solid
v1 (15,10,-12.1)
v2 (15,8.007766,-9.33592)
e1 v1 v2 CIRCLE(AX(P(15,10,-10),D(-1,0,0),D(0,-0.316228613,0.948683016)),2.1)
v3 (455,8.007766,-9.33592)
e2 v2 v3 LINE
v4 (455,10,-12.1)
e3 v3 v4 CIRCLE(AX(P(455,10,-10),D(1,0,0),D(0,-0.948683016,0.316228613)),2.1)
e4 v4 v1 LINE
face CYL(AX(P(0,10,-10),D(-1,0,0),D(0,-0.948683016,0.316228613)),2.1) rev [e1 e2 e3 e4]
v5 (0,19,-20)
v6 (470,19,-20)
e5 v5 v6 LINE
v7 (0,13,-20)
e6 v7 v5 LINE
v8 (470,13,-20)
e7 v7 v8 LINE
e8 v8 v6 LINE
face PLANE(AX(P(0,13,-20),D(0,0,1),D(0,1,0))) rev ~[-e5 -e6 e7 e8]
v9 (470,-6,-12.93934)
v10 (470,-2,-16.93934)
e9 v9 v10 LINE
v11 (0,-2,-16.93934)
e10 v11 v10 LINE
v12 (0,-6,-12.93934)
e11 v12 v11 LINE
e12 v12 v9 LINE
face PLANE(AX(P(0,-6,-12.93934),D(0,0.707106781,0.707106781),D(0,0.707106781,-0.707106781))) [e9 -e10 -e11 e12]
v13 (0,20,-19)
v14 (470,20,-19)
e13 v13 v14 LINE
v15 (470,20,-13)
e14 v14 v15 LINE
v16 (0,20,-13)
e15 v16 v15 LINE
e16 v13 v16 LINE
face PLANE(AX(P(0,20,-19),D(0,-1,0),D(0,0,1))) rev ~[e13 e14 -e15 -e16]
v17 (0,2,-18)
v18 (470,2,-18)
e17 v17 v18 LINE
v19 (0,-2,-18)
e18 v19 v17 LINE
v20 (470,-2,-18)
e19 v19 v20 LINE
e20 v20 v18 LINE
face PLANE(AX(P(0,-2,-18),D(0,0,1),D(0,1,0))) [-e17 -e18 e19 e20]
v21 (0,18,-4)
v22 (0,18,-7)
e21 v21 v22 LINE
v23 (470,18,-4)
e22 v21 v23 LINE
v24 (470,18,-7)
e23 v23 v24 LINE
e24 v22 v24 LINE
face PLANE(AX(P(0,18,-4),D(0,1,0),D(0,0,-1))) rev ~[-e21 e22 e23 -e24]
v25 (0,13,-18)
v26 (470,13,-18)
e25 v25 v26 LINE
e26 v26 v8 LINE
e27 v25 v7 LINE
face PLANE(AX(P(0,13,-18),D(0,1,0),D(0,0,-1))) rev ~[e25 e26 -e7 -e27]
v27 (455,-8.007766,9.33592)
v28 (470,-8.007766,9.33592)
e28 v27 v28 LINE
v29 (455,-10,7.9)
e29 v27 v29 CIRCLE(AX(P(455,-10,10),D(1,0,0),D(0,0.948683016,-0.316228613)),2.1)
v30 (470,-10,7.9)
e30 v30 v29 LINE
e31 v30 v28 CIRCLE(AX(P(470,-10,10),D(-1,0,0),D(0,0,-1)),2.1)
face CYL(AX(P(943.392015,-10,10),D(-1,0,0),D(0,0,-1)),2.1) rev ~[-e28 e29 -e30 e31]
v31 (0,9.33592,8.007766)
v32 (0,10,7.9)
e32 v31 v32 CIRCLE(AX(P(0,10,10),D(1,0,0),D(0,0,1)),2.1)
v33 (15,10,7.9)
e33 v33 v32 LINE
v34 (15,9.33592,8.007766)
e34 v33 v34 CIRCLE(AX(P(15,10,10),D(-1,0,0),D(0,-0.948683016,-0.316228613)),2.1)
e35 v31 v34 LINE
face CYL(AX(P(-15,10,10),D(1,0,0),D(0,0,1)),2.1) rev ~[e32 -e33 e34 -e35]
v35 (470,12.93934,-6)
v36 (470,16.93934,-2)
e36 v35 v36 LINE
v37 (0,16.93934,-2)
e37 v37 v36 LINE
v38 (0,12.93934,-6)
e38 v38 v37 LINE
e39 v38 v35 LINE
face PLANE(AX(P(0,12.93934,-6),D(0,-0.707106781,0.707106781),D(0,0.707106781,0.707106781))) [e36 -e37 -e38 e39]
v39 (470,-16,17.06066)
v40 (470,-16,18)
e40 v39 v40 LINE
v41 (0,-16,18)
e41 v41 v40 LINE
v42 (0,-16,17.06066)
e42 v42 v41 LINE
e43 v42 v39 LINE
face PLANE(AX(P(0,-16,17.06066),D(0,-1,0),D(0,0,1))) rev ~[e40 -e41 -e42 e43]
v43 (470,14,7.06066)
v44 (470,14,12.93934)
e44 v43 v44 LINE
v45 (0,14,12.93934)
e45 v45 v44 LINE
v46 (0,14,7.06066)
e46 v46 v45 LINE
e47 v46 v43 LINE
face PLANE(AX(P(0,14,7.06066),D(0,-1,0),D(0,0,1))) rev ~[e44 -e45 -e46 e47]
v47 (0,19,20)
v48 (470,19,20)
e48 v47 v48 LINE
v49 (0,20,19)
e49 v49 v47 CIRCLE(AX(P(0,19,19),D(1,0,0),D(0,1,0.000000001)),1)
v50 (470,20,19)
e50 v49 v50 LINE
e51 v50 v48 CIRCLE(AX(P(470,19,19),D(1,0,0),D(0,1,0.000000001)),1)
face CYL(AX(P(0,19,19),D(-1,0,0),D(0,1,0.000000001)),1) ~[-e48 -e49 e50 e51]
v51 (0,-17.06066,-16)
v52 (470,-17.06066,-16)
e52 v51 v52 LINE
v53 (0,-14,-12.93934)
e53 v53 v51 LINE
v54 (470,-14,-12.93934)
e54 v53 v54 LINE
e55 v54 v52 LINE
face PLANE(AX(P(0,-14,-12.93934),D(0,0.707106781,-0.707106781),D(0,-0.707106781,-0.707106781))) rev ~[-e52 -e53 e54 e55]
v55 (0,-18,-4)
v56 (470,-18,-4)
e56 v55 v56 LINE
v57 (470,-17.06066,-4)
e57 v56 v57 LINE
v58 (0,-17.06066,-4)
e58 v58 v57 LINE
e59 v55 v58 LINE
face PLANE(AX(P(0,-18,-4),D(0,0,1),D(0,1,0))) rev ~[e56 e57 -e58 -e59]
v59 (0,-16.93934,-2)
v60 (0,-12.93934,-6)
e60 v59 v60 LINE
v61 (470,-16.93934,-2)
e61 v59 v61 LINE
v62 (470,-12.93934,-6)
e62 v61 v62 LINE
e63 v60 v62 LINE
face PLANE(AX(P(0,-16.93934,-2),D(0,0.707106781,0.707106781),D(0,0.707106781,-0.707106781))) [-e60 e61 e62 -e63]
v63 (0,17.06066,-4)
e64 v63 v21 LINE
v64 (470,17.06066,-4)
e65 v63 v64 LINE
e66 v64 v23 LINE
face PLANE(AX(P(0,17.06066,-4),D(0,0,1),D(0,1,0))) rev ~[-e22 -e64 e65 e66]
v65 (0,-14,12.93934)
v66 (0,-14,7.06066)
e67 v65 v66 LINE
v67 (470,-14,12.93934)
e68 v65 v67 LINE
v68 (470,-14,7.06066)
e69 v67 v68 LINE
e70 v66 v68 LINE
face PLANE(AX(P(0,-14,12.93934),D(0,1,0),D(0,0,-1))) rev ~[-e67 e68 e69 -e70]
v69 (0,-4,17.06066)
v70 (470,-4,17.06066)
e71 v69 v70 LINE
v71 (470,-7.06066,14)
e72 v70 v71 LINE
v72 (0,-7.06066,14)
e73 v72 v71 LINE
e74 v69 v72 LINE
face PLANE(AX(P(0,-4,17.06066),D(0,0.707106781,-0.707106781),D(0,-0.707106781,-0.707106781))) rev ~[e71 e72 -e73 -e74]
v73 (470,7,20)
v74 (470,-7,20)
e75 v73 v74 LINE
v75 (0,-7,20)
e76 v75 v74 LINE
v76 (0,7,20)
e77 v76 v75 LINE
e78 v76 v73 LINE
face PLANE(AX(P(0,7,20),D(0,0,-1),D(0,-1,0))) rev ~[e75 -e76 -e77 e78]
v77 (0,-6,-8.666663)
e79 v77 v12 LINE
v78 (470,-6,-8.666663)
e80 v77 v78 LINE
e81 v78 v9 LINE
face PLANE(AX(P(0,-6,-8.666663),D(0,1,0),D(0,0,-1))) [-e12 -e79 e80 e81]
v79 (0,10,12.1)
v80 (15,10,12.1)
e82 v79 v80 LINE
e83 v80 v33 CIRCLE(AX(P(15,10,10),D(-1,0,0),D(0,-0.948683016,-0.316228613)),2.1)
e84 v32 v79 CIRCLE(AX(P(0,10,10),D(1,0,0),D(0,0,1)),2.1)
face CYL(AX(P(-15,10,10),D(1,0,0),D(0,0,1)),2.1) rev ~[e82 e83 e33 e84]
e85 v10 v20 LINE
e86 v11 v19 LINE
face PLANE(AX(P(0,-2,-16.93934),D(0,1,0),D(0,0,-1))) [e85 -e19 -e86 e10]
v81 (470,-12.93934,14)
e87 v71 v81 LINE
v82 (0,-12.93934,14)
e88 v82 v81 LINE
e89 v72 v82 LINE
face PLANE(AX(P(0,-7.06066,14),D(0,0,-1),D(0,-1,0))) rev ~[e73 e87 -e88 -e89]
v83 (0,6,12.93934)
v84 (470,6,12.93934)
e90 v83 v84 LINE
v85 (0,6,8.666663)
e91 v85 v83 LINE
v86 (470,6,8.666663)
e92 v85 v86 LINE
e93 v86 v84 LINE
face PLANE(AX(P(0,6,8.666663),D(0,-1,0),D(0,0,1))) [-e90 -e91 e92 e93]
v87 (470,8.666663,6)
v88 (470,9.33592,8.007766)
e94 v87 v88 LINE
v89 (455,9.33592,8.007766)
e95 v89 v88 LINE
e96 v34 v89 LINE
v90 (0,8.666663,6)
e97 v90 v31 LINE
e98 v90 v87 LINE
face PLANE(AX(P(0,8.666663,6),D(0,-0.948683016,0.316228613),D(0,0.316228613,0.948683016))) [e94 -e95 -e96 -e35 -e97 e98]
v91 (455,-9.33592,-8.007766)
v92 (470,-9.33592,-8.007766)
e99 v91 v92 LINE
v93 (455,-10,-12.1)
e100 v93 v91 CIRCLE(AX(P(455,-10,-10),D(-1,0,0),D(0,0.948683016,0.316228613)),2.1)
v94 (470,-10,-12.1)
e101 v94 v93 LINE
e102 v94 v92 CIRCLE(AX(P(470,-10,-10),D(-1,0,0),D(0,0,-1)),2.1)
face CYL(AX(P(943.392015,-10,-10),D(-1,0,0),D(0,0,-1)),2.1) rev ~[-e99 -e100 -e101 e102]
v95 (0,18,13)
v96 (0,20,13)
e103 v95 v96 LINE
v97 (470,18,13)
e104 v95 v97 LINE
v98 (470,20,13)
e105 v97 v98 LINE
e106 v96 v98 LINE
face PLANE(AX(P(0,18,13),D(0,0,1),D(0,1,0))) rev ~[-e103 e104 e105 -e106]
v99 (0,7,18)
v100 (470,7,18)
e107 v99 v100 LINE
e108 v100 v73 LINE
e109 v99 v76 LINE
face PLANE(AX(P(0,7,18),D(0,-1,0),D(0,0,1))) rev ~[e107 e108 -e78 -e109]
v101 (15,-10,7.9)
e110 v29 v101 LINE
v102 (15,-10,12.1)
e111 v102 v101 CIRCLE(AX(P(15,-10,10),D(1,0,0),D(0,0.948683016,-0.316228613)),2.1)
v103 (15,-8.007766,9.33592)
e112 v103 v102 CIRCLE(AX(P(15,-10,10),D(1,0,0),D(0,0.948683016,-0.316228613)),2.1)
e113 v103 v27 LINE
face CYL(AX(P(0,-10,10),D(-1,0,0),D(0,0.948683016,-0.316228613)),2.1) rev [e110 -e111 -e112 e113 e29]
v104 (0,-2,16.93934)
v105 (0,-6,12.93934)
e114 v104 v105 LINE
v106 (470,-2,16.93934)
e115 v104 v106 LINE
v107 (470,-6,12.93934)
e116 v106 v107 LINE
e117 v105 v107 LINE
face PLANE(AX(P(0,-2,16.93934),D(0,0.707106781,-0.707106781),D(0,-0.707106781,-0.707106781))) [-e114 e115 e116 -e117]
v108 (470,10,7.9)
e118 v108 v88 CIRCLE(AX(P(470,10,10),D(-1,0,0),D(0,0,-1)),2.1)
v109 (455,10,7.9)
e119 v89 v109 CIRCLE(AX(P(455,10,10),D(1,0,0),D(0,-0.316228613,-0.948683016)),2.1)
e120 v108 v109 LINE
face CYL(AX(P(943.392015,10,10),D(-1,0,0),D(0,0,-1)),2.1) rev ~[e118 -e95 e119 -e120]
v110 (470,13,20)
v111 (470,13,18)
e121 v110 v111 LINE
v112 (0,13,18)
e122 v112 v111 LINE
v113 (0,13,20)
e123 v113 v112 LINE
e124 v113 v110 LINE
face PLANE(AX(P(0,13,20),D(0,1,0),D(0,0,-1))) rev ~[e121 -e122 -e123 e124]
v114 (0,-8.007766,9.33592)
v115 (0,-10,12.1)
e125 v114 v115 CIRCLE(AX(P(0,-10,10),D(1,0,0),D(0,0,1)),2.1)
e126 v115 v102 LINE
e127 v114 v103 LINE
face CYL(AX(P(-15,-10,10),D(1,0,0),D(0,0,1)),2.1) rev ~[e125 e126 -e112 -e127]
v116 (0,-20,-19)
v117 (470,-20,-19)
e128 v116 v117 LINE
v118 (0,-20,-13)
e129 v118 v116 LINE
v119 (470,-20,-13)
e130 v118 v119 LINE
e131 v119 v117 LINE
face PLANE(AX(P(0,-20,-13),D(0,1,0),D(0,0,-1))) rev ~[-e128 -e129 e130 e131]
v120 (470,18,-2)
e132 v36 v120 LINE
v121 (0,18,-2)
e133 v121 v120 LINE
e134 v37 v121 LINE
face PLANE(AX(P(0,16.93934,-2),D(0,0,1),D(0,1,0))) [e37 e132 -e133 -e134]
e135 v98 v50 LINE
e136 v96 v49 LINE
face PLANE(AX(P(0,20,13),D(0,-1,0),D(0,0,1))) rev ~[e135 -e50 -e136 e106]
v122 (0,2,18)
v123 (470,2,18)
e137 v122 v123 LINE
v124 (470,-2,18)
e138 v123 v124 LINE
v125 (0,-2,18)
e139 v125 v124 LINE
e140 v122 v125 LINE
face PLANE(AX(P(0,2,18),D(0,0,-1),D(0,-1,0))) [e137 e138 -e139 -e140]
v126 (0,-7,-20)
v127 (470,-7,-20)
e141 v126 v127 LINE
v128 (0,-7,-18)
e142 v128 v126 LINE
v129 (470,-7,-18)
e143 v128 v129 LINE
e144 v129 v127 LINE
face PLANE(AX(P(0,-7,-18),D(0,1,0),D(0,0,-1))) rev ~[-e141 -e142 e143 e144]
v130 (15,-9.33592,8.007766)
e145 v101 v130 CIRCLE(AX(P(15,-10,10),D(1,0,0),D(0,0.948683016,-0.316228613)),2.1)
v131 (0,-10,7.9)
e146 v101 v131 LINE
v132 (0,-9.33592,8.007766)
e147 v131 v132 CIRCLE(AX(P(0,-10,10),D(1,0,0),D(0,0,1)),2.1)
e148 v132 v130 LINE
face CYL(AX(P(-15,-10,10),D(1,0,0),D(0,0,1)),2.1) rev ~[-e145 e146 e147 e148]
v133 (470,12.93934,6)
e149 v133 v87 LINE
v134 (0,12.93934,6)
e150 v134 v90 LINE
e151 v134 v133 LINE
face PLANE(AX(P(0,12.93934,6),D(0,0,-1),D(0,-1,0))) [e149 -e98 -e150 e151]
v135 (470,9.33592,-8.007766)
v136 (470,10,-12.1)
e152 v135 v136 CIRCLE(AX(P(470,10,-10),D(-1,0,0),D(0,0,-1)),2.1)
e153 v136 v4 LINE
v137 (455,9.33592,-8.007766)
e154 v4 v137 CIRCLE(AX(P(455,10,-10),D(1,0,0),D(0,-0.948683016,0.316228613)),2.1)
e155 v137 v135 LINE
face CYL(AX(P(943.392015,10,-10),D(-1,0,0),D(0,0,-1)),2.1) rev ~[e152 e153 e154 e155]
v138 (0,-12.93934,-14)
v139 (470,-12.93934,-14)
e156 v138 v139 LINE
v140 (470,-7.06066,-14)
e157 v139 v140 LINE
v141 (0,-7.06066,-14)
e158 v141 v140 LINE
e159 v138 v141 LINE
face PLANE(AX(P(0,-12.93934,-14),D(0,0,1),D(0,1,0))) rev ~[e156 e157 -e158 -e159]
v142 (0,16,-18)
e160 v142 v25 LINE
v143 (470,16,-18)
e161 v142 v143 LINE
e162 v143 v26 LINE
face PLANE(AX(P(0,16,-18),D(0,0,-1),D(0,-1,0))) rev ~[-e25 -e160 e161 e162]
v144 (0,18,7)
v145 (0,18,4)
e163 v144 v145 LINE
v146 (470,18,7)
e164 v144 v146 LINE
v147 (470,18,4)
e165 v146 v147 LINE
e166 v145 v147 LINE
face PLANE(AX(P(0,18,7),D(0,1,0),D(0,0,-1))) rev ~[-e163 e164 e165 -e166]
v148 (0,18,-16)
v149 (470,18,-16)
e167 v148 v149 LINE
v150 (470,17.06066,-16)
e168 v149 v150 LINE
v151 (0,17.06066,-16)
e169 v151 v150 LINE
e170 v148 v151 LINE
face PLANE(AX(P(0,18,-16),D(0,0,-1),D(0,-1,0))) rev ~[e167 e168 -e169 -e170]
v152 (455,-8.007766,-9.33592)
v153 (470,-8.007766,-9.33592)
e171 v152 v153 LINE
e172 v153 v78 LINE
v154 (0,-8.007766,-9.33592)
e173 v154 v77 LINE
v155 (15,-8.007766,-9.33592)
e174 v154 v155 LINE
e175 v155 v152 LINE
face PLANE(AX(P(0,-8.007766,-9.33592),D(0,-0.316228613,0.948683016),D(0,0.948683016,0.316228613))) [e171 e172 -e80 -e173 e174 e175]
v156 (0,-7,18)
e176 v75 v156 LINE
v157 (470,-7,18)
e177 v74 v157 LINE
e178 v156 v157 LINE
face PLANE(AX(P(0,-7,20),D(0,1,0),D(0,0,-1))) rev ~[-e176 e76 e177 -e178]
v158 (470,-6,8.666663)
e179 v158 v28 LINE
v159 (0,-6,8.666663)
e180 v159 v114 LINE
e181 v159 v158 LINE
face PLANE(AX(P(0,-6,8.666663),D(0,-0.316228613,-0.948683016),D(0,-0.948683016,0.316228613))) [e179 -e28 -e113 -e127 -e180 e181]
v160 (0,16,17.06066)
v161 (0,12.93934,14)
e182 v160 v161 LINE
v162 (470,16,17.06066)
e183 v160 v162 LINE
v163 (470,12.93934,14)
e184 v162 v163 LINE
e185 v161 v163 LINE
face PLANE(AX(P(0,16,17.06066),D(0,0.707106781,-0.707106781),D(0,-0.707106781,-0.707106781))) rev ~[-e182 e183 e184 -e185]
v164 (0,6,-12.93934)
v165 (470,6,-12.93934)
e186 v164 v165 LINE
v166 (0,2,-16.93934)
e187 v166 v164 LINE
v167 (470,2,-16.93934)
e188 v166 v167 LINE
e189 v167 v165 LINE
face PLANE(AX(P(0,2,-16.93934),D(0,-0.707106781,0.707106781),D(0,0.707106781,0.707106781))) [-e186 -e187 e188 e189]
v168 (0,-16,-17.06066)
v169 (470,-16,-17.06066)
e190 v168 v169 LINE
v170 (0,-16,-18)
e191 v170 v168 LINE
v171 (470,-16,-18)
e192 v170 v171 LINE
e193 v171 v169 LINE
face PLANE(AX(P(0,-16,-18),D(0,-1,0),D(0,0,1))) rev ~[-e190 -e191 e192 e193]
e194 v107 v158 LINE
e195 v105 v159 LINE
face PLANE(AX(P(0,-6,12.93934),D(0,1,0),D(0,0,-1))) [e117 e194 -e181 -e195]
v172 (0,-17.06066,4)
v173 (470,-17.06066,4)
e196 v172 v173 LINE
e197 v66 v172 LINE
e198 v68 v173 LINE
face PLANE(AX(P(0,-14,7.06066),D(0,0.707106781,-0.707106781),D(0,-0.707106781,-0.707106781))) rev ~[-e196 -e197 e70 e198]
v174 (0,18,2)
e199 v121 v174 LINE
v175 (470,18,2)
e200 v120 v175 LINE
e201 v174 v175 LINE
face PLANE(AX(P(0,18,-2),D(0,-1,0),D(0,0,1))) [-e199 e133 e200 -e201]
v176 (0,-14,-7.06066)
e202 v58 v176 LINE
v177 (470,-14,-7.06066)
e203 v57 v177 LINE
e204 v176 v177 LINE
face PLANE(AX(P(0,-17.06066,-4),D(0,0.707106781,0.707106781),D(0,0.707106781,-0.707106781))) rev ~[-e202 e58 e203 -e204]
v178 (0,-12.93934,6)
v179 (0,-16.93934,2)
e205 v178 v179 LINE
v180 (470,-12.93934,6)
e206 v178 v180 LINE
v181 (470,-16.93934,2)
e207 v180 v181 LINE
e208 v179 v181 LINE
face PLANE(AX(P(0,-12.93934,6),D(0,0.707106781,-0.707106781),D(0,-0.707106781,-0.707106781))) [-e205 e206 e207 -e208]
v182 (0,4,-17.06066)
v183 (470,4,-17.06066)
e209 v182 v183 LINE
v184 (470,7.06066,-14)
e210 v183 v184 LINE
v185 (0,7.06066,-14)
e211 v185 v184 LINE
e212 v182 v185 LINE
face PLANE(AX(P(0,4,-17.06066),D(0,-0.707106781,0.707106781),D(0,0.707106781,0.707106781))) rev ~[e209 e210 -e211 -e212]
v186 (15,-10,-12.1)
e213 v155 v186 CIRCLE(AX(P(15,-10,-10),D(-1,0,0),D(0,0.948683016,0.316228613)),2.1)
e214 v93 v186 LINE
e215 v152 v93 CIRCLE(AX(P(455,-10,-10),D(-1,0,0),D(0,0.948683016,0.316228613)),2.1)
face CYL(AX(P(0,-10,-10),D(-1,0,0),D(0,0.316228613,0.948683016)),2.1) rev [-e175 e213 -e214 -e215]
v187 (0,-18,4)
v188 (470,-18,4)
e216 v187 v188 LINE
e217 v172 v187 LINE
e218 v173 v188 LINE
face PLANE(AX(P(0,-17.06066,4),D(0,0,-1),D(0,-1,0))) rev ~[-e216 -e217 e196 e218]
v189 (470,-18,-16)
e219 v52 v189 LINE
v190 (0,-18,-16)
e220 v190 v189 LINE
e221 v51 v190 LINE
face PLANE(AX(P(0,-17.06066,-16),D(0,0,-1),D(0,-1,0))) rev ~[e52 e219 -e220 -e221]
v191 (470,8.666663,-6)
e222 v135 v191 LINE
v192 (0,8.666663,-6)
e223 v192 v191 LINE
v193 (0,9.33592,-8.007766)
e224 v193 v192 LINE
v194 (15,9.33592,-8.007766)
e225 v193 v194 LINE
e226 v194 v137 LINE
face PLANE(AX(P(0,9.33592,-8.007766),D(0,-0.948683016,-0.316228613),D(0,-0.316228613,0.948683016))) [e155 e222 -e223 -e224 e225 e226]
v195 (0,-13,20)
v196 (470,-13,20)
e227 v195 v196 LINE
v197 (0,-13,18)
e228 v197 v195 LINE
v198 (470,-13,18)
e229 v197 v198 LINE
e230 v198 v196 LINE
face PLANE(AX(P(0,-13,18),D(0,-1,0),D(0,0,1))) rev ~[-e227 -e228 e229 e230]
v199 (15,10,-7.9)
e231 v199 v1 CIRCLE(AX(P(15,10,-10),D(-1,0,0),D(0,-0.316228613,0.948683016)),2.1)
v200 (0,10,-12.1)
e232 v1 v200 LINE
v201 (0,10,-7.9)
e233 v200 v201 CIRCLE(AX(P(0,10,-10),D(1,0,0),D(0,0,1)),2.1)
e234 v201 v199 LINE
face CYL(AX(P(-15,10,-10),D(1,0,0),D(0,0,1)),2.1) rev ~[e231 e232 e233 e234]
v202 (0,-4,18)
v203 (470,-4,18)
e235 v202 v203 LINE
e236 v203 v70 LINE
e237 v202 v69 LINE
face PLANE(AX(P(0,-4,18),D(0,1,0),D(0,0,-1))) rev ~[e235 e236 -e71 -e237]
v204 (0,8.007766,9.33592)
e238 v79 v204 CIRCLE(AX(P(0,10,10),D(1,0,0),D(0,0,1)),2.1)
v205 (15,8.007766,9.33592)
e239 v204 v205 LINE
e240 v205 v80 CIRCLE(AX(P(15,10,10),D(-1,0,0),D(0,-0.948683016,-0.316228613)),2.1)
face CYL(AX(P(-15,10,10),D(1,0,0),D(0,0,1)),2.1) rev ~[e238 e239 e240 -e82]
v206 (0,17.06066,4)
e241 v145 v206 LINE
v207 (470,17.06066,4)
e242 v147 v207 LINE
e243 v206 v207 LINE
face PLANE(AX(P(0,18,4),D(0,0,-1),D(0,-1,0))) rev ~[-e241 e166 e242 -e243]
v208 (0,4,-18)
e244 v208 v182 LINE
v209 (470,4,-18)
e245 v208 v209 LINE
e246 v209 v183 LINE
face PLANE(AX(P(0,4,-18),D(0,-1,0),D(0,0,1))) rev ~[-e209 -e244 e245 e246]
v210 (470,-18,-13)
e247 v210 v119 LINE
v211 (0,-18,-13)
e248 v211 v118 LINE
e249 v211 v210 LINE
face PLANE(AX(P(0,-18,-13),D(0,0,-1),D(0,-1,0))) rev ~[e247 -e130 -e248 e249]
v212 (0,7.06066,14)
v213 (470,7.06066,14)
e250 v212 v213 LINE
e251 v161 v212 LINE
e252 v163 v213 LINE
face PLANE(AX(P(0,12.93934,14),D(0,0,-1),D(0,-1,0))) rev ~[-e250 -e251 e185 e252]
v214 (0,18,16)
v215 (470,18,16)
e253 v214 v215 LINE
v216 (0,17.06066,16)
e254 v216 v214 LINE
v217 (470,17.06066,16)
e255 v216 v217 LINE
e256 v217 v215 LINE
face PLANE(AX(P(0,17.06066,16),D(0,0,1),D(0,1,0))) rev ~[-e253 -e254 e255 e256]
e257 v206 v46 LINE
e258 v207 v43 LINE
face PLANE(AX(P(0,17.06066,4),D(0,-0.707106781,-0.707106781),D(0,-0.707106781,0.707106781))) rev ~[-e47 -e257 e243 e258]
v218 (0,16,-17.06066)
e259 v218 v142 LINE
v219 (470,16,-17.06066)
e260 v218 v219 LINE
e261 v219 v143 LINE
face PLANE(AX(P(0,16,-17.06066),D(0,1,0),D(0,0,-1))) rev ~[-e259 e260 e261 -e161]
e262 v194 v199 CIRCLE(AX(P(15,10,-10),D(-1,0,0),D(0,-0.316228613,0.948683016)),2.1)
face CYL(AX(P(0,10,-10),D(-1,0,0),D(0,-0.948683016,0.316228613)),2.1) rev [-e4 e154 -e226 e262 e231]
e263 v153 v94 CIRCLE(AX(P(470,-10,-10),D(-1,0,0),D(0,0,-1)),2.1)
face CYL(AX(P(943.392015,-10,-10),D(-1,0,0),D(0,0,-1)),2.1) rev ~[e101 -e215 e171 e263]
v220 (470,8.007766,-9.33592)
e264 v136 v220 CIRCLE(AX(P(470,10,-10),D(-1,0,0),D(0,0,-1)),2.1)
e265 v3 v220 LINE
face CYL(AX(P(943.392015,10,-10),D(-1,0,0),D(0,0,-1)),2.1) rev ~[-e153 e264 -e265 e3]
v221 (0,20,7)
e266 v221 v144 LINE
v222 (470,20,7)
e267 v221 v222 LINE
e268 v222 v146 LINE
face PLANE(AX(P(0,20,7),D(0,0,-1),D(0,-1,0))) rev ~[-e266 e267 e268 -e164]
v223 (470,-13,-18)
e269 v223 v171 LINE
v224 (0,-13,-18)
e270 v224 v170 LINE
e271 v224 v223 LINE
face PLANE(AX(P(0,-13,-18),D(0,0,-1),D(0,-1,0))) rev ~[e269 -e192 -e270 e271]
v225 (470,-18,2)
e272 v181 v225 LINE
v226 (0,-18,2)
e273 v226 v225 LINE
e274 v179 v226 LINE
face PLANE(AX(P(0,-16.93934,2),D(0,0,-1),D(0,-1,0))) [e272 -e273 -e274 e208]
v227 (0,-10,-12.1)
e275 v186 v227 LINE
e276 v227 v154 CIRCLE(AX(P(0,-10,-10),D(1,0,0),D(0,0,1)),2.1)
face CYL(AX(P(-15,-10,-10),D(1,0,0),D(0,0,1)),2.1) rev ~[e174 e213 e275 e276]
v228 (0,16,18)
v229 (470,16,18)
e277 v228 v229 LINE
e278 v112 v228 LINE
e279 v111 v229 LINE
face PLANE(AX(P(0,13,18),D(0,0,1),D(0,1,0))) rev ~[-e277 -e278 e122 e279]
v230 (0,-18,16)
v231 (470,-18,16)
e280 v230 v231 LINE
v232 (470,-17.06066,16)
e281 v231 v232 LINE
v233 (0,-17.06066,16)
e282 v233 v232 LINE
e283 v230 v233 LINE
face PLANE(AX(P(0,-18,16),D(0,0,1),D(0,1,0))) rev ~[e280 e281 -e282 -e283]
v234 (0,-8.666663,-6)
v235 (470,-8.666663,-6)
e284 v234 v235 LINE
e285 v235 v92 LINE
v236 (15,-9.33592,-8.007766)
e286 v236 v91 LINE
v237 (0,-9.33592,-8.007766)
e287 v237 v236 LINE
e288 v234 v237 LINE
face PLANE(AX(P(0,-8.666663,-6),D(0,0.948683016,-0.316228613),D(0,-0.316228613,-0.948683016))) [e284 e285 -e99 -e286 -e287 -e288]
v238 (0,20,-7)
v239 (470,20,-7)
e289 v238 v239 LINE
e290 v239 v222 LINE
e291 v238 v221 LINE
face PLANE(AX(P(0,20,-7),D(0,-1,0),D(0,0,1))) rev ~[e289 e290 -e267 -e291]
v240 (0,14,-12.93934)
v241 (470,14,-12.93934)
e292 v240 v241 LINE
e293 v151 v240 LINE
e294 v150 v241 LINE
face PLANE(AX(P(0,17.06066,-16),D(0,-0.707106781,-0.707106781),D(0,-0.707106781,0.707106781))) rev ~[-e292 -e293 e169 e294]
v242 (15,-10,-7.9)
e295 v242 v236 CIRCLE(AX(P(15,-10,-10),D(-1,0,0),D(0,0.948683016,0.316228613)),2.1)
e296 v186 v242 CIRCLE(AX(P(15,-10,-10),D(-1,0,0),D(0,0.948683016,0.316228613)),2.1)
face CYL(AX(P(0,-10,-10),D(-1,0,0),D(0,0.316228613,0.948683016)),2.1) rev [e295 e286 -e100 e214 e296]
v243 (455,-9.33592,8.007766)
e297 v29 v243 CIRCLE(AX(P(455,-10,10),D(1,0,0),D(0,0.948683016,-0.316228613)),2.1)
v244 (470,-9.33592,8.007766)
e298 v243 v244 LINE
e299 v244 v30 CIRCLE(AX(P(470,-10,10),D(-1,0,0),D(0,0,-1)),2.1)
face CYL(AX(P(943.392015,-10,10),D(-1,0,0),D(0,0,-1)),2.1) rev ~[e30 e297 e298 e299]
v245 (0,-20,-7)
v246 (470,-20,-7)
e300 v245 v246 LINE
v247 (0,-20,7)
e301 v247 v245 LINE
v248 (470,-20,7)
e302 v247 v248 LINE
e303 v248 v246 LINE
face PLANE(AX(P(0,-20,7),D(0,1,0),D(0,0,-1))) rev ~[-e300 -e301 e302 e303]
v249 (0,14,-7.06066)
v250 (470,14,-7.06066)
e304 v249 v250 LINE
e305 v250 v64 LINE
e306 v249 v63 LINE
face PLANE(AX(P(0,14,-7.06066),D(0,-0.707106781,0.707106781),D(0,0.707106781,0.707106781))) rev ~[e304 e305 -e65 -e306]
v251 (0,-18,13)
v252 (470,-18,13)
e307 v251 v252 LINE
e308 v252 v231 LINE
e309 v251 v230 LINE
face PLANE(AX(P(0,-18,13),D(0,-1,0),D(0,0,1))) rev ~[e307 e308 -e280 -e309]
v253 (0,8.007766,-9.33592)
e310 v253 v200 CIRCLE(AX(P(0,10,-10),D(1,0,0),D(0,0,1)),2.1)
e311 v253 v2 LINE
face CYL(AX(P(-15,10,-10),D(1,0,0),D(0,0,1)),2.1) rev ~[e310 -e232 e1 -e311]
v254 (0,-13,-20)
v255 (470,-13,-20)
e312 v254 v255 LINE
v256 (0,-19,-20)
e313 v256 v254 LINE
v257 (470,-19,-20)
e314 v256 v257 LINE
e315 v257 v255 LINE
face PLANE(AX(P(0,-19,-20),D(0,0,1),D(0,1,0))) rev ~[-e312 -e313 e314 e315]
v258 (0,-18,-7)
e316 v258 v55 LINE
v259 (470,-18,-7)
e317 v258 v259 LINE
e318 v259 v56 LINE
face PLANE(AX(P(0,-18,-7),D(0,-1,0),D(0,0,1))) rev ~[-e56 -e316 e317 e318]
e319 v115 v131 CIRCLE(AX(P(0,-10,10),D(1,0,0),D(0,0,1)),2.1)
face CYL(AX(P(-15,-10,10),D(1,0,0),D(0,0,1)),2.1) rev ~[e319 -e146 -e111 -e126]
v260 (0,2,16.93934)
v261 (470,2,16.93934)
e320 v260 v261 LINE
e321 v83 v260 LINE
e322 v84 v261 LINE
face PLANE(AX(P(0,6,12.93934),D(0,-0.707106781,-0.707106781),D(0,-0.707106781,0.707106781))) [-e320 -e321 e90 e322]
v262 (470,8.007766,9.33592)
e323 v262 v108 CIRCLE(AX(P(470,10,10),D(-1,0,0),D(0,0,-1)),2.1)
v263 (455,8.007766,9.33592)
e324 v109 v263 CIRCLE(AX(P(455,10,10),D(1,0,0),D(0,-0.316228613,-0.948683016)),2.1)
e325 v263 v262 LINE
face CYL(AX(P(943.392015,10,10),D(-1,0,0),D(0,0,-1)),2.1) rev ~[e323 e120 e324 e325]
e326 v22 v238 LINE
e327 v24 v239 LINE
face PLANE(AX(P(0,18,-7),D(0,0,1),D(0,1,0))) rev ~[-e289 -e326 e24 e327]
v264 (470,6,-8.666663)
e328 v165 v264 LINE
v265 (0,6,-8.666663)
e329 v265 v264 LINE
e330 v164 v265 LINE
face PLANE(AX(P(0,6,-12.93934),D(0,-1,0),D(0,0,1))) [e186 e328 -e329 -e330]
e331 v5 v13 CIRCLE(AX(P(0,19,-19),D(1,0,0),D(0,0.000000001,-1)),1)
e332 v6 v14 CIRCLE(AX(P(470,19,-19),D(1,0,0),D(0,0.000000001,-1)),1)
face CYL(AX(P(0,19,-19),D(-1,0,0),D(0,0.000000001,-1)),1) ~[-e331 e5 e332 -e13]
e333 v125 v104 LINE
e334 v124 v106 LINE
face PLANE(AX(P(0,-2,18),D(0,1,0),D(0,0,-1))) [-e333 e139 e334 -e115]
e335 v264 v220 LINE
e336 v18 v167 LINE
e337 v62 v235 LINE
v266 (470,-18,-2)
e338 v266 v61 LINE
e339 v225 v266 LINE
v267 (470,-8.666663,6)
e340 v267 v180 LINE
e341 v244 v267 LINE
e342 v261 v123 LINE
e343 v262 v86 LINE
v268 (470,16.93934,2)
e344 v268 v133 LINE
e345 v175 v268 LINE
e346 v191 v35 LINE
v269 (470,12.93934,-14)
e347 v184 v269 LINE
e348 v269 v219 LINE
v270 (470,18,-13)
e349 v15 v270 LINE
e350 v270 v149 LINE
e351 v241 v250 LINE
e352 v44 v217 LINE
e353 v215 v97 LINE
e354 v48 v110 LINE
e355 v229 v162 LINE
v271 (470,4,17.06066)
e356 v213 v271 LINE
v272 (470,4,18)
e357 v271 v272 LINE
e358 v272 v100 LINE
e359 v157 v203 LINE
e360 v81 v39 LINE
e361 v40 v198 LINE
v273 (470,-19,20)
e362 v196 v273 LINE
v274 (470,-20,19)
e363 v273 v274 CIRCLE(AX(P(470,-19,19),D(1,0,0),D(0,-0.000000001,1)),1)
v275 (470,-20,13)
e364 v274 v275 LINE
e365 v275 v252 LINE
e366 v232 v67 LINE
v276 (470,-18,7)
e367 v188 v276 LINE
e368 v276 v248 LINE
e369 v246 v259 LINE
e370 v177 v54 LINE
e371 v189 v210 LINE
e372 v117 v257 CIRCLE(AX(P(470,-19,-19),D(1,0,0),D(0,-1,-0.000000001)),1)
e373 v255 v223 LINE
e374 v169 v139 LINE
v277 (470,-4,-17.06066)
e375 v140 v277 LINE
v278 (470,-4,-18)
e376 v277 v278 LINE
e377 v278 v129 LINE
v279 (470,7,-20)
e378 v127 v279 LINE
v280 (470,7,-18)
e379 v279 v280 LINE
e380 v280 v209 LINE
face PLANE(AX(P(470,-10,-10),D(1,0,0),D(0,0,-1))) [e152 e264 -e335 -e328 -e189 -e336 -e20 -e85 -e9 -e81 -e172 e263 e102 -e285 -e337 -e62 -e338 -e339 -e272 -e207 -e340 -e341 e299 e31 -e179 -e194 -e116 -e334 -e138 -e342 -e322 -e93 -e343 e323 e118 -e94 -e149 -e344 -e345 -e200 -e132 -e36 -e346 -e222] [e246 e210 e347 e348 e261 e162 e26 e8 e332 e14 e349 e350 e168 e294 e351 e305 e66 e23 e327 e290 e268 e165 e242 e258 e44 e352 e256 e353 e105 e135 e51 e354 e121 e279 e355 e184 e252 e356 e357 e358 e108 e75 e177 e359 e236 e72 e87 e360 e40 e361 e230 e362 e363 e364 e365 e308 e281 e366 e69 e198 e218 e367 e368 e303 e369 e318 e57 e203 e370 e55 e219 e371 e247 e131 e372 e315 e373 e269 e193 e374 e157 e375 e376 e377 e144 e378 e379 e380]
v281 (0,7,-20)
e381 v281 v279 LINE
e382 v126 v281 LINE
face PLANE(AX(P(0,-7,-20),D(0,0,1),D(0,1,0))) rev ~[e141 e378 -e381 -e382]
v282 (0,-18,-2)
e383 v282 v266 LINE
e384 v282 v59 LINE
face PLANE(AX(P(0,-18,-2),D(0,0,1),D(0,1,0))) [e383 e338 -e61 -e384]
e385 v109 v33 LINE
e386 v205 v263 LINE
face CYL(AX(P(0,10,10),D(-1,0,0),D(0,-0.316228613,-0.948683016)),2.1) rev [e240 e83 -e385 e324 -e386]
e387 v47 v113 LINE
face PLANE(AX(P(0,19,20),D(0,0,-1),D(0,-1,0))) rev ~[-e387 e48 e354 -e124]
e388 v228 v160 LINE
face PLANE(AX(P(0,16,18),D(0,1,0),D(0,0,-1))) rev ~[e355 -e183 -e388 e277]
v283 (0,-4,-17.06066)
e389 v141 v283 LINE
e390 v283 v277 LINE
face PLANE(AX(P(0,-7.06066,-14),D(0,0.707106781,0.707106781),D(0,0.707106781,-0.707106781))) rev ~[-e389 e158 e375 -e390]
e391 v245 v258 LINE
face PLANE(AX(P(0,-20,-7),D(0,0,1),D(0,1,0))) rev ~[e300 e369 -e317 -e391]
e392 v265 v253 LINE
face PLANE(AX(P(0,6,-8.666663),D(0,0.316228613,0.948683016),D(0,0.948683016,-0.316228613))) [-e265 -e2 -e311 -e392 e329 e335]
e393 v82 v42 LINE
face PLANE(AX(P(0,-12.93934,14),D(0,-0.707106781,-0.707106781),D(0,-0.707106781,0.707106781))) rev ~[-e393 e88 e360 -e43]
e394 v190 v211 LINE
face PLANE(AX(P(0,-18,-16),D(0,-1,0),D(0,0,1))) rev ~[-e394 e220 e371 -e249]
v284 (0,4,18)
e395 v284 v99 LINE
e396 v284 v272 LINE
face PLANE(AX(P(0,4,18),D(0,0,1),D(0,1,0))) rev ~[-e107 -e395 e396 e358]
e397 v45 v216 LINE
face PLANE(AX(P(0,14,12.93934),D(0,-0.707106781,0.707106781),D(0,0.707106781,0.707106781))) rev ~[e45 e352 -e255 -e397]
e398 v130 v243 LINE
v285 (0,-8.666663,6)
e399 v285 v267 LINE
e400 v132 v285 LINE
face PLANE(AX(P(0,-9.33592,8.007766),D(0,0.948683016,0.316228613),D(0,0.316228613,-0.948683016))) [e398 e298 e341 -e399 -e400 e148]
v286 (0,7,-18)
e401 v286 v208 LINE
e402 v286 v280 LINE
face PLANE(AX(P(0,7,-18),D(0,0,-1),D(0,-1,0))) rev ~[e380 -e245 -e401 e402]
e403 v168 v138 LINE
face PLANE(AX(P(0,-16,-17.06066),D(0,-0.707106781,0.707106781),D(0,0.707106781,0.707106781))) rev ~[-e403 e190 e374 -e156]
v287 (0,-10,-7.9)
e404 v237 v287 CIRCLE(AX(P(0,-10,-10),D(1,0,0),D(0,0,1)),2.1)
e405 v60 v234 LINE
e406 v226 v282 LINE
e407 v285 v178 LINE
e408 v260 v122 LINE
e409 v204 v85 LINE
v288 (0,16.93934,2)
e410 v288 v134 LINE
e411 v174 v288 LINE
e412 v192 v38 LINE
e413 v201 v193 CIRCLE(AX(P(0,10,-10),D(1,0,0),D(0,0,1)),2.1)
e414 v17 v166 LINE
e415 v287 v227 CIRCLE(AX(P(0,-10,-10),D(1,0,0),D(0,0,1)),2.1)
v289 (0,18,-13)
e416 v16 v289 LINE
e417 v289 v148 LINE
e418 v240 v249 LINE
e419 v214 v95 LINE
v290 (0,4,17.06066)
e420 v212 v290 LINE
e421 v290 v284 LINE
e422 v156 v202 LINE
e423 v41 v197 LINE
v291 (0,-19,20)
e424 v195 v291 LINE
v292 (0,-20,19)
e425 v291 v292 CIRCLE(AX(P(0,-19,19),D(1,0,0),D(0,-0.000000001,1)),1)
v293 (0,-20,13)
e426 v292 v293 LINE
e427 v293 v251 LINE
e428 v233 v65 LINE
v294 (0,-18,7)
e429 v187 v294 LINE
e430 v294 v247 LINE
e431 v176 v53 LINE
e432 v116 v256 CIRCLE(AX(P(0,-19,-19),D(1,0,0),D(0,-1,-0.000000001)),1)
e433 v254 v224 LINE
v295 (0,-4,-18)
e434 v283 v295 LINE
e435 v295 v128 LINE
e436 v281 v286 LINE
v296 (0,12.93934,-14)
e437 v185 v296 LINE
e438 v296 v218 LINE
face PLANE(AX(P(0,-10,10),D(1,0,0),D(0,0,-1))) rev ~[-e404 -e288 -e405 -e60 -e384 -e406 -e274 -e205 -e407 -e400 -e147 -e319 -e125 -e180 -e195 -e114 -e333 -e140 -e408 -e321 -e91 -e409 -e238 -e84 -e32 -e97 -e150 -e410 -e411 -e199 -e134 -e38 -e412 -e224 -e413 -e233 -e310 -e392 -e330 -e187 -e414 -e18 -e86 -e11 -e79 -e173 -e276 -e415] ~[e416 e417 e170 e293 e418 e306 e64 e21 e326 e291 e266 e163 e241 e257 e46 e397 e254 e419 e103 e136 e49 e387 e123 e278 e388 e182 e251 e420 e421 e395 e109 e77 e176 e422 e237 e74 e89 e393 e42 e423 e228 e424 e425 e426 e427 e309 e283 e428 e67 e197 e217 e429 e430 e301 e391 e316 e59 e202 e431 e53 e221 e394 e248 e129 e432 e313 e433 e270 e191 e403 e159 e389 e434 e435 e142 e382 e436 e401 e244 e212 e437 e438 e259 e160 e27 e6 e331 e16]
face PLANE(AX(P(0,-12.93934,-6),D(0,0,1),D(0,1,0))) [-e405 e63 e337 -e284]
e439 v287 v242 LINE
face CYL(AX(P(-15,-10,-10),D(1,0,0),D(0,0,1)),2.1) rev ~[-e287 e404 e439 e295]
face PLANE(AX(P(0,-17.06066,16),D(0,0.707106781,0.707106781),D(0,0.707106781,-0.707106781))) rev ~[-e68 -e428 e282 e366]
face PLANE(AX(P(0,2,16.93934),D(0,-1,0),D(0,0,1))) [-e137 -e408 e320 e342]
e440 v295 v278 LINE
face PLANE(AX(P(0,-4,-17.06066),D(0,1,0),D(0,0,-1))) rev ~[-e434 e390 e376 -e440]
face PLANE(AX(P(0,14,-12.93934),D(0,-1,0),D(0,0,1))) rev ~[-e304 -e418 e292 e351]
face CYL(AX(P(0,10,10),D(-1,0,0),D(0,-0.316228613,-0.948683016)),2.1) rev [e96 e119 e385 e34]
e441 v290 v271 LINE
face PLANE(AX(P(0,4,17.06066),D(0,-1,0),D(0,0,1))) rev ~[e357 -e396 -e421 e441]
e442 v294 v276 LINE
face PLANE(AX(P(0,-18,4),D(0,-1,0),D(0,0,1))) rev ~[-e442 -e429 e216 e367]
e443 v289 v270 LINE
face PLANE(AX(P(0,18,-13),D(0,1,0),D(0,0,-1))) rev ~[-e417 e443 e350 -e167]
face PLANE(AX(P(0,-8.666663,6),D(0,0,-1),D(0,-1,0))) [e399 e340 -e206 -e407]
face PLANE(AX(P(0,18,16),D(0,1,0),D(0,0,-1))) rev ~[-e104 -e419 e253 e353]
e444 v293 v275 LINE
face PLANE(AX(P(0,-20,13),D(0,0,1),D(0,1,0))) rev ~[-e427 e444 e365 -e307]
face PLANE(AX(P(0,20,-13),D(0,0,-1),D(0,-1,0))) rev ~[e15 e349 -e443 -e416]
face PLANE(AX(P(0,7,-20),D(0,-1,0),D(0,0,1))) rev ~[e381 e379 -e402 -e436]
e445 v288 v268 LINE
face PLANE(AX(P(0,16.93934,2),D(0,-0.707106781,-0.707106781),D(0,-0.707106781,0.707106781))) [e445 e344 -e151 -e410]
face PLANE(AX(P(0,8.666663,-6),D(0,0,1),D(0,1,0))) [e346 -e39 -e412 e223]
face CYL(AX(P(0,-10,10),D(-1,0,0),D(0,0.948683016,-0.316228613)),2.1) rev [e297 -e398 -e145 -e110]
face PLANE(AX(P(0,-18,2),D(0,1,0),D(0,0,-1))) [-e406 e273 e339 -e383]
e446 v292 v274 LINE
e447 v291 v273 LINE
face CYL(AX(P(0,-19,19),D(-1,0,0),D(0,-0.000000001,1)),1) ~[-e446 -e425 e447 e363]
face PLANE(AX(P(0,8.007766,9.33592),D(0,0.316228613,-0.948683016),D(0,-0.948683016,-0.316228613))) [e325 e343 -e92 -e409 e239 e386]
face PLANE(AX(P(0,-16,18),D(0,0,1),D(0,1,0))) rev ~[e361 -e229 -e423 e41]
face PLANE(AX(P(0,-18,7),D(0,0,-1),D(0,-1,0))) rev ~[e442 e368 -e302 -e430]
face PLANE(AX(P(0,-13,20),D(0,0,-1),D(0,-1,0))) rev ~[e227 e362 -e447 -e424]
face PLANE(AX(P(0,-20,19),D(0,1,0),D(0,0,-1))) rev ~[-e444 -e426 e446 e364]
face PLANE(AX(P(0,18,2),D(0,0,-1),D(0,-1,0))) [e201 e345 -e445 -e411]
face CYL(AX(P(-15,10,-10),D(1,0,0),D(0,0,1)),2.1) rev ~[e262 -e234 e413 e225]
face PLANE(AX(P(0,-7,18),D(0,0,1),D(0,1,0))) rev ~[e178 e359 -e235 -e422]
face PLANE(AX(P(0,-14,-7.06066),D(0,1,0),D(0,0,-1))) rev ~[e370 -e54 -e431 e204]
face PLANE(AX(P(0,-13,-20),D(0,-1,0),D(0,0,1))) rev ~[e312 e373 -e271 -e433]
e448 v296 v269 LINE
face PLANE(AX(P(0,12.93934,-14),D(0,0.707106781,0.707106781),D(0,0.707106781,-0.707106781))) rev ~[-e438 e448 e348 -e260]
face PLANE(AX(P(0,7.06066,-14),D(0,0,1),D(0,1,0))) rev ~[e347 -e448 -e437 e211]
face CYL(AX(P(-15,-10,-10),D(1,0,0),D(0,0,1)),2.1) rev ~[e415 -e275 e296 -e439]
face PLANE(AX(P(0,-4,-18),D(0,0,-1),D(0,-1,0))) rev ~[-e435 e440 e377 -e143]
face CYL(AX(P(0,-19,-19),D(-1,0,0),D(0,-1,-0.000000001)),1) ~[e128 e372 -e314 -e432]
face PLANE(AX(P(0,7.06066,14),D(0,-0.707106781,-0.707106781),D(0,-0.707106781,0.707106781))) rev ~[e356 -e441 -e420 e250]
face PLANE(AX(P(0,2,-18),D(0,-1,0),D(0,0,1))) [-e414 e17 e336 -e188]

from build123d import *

# Parameters (mm, degrees)
BOSS_EXTRUDE1_DEPTH = 470
SKETCH10_R          = 2.1
BOSS_EXTRUDE4_DEPTH = 15
BOSS_EXTRUDE5_START = -15
SKETCH11_R          = 2.1
BOSS_EXTRUDE5_DEPTH = 15
TAPPED_HOLE3_D      = 4.2
TAPPED_HOLE3_DEPTH  = 15
TAPPED_HOLE4_D      = 4.2


with BuildPart() as part:
    # Sketch1 → Boss-Extrude1 (new body)
    with BuildSketch(Plane(origin=(0, 0, 0), x_dir=(0, 0, -1), z_dir=(1, 0, 0))):
        with BuildLine():
            Line((-20, 19), (-20, 13))
            Line((-20, 13), (-18, 13))
            Line((-18, 13), (-18, 16))
            Line((-18, 16), (-17.060660172, 16))
            Line((-17.060660172, 16), (-14, 12.939339828))
            Line((-14, 12.939339828), (-14, 7.060660172))
            Line((-14, 7.060660172), (-17.060660172, 4))
            Line((-17.060660172, 4), (-18, 4))
            Line((-18, 4), (-18, 7))
            Line((-18, 7), (-20, 7))
            Line((-20, 7), (-20, -7))
            Line((-20, -7), (-18, -7))
            Line((-18, -7), (-18, -4))
            Line((-18, -4), (-17.060660172, -4))
            Line((-17.060660172, -4), (-14, -7.060660172))
            Line((-14, -7.060660172), (-14, -12.939339828))
            Line((-14, -12.939339828), (-17.060660172, -16))
            Line((-17.060660172, -16), (-18, -16))
            Line((-18, -16), (-18, -13))
            Line((-18, -13), (-20, -13))
            Line((-20, -13), (-20, -19))
            ThreePointArc((-20, -19), (-19.707106781, -19.707106781), (-19, -20))
            Line((-19, -20), (-13, -20))
            Line((-13, -20), (-13, -18))
            Line((-13, -18), (-16, -18))
            Line((-16, -18), (-16, -17.060660172))
            Line((-16, -17.060660172), (-12.939339828, -14))
            Line((-12.939339828, -14), (-7.060660172, -14))
            Line((-7.060660172, -14), (-4, -17.060660172))
            Line((-4, -17.060660172), (-4, -18))
            Line((-4, -18), (-7, -18))
            Line((-7, -18), (-7, -20))
            Line((-7, -20), (7, -20))
            Line((7, -20), (7, -18))
            Line((7, -18), (4, -18))
            Line((4, -18), (4, -17.060660172))
            Line((4, -17.060660172), (7.060660172, -14))
            Line((7.060660172, -14), (12.939339828, -14))
            Line((12.939339828, -14), (16, -17.060660172))
            Line((16, -17.060660172), (16, -18))
            Line((16, -18), (13, -18))
            Line((13, -18), (13, -20))
            Line((13, -20), (19, -20))
            ThreePointArc((19, -20), (19.707106781, -19.707106781), (20, -19))
            Line((20, -19), (20, -13))
            Line((20, -13), (18, -13))
            Line((18, -13), (18, -16))
            Line((18, -16), (17.060660172, -16))
            Line((17.060660172, -16), (14, -12.939339828))
            Line((14, -12.939339828), (14, -7.060660172))
            Line((14, -7.060660172), (17.060660172, -4))
            Line((17.060660172, -4), (18, -4))
            Line((18, -4), (18, -7))
            Line((18, -7), (20, -7))
            Line((20, -7), (20, 7))
            Line((20, 7), (18, 7))
            Line((18, 7), (18, 4))
            Line((18, 4), (17.060660172, 4))
            Line((17.060660172, 4), (14, 7.060660172))
            Line((14, 7.060660172), (14, 12.939339828))
            Line((14, 12.939339828), (17.060660172, 16))
            Line((17.060660172, 16), (18, 16))
            Line((18, 16), (18, 13))
            Line((18, 13), (20, 13))
            Line((20, 13), (20, 19))
            ThreePointArc((20, 19), (19.707106781, 19.707106781), (19, 20))
            Line((19, 20), (13, 20))
            Line((13, 20), (13, 18))
            Line((13, 18), (16, 18))
            Line((16, 18), (16, 17.060660172))
            Line((16, 17.060660172), (12.939339828, 14))
            Line((12.939339828, 14), (7.060660172, 14))
            Line((7.060660172, 14), (4, 17.060660172))
            Line((4, 17.060660172), (4, 18))
            Line((4, 18), (7, 18))
            Line((7, 18), (7, 20))
            Line((7, 20), (-7, 20))
            Line((-7, 20), (-7, 18))
            Line((-7, 18), (-4, 18))
            Line((-4, 18), (-4, 17.060660172))
            Line((-4, 17.060660172), (-7.060660172, 14))
            Line((-7.060660172, 14), (-12.939339828, 14))
            Line((-12.939339828, 14), (-16, 17.060660172))
            Line((-16, 17.060660172), (-16, 18))
            Line((-16, 18), (-13, 18))
            Line((-13, 18), (-13, 20))
            Line((-13, 20), (-19, 20))
            ThreePointArc((-19, 20), (-19.707106781, 19.707106781), (-20, 19))
        make_face()
        with BuildLine():
            Line((-16.939339828, 2), (-18, 2))
            Line((-18, 2), (-18, -2))
            Line((-18, -2), (-16.939339828, -2))
            Line((-16.939339828, -2), (-12.939339828, -6))
            Line((-12.939339828, -6), (-8.666662697, -6))
            Line((-8.666662697, -6), (-9.335919912, -8.007765667))
            ThreePointArc((-9.335919912, -8.007765667), (-11.48492424, -11.48492424), (-8.007765667, -9.335919912))
            Line((-8.007765667, -9.335919912), (-6, -8.666662697))
            Line((-6, -8.666662697), (-6, -12.939339828))
            Line((-6, -12.939339828), (-2, -16.939339828))
            Line((-2, -16.939339828), (-2, -18))
            Line((-2, -18), (2, -18))
            Line((2, -18), (2, -16.939339828))
            Line((2, -16.939339828), (6, -12.939339828))
            Line((6, -12.939339828), (6, -8.666662697))
            Line((6, -8.666662697), (8.007765667, -9.335919912))
            ThreePointArc((8.007765667, -9.335919912), (11.48492424, -11.48492424), (9.335919912, -8.007765667))
            Line((9.335919912, -8.007765667), (8.666662697, -6))
            Line((8.666662697, -6), (12.939339828, -6))
            Line((12.939339828, -6), (16.939339828, -2))
            Line((16.939339828, -2), (18, -2))
            Line((18, -2), (18, 2))
            Line((18, 2), (16.939339828, 2))
            Line((16.939339828, 2), (12.939339828, 6))
            Line((12.939339828, 6), (8.666662697, 6))
            Line((8.666662697, 6), (9.335919912, 8.007765667))
            ThreePointArc((9.335919912, 8.007765667), (11.48492424, 11.48492424), (8.007765667, 9.335919912))
            Line((8.007765667, 9.335919912), (6, 8.666662697))
            Line((6, 8.666662697), (6, 12.939339828))
            Line((6, 12.939339828), (2, 16.939339828))
            Line((2, 16.939339828), (2, 18))
            Line((2, 18), (-2, 18))
            Line((-2, 18), (-2, 16.939339828))
            Line((-2, 16.939339828), (-6, 12.939339828))
            Line((-6, 12.939339828), (-6, 8.666662697))
            Line((-6, 8.666662697), (-8.007765667, 9.335919912))
            ThreePointArc((-8.007765667, 9.335919912), (-11.48492424, 11.48492424), (-9.335919912, 8.007765667))
            Line((-9.335919912, 8.007765667), (-8.666662697, 6))
            Line((-8.666662697, 6), (-12.939339828, 6))
            Line((-12.939339828, 6), (-16.939339828, 2))
        make_face(mode=Mode.SUBTRACT)
    extrude(amount=BOSS_EXTRUDE1_DEPTH)

    # Sketch10 → Boss-Extrude4 (add)
    with BuildSketch(Plane(origin=(0, 0, 0), x_dir=(0, 0, -1), z_dir=(1, 0, 0))):
        with Locations((-10, -10)):
            Circle(SKETCH10_R)
        with Locations((10, -10)):
            Circle(SKETCH10_R)
        with Locations((10, 10)):
            Circle(SKETCH10_R)
        with Locations((-10, 10)):
            Circle(SKETCH10_R)
    extrude(amount=BOSS_EXTRUDE4_DEPTH)

    # Sketch11 → Boss-Extrude5 (add)
    with BuildSketch(Plane(origin=(470, 0, 0), x_dir=(0, 0, -1), z_dir=(1, 0, 0)).offset(BOSS_EXTRUDE5_START)):
        with Locations((10, -10)):
            Circle(SKETCH11_R)
        with Locations((-10, -10)):
            Circle(SKETCH11_R)
        with Locations((-10, 10)):
            Circle(SKETCH11_R)
        with Locations((10, 10)):
            Circle(SKETCH11_R)
    extrude(amount=BOSS_EXTRUDE5_DEPTH)

    # Tapped Hole3
    with Locations(Plane(origin=(0, 0, 73.523605606), x_dir=(0, 0, -1), z_dir=(-1, 0, 0))):
        with Locations((63.523605606, -10), (83.523605606, -10), (63.523605606, 10), (83.523605606, 10)):
            Hole(TAPPED_HOLE3_D / 2, depth=TAPPED_HOLE3_DEPTH)

    # Tapped Hole4 (through all)
    with Locations(Plane(origin=(470, 0, -145.629349724), x_dir=(0, 0, 1), z_dir=(1, 0, 0))):
        with Locations((135.629349724, -10), (155.629349724, -10), (135.629349724, 10), (155.629349724, 10)):
            Hole(TAPPED_HOLE4_D / 2)


solid = part.part
